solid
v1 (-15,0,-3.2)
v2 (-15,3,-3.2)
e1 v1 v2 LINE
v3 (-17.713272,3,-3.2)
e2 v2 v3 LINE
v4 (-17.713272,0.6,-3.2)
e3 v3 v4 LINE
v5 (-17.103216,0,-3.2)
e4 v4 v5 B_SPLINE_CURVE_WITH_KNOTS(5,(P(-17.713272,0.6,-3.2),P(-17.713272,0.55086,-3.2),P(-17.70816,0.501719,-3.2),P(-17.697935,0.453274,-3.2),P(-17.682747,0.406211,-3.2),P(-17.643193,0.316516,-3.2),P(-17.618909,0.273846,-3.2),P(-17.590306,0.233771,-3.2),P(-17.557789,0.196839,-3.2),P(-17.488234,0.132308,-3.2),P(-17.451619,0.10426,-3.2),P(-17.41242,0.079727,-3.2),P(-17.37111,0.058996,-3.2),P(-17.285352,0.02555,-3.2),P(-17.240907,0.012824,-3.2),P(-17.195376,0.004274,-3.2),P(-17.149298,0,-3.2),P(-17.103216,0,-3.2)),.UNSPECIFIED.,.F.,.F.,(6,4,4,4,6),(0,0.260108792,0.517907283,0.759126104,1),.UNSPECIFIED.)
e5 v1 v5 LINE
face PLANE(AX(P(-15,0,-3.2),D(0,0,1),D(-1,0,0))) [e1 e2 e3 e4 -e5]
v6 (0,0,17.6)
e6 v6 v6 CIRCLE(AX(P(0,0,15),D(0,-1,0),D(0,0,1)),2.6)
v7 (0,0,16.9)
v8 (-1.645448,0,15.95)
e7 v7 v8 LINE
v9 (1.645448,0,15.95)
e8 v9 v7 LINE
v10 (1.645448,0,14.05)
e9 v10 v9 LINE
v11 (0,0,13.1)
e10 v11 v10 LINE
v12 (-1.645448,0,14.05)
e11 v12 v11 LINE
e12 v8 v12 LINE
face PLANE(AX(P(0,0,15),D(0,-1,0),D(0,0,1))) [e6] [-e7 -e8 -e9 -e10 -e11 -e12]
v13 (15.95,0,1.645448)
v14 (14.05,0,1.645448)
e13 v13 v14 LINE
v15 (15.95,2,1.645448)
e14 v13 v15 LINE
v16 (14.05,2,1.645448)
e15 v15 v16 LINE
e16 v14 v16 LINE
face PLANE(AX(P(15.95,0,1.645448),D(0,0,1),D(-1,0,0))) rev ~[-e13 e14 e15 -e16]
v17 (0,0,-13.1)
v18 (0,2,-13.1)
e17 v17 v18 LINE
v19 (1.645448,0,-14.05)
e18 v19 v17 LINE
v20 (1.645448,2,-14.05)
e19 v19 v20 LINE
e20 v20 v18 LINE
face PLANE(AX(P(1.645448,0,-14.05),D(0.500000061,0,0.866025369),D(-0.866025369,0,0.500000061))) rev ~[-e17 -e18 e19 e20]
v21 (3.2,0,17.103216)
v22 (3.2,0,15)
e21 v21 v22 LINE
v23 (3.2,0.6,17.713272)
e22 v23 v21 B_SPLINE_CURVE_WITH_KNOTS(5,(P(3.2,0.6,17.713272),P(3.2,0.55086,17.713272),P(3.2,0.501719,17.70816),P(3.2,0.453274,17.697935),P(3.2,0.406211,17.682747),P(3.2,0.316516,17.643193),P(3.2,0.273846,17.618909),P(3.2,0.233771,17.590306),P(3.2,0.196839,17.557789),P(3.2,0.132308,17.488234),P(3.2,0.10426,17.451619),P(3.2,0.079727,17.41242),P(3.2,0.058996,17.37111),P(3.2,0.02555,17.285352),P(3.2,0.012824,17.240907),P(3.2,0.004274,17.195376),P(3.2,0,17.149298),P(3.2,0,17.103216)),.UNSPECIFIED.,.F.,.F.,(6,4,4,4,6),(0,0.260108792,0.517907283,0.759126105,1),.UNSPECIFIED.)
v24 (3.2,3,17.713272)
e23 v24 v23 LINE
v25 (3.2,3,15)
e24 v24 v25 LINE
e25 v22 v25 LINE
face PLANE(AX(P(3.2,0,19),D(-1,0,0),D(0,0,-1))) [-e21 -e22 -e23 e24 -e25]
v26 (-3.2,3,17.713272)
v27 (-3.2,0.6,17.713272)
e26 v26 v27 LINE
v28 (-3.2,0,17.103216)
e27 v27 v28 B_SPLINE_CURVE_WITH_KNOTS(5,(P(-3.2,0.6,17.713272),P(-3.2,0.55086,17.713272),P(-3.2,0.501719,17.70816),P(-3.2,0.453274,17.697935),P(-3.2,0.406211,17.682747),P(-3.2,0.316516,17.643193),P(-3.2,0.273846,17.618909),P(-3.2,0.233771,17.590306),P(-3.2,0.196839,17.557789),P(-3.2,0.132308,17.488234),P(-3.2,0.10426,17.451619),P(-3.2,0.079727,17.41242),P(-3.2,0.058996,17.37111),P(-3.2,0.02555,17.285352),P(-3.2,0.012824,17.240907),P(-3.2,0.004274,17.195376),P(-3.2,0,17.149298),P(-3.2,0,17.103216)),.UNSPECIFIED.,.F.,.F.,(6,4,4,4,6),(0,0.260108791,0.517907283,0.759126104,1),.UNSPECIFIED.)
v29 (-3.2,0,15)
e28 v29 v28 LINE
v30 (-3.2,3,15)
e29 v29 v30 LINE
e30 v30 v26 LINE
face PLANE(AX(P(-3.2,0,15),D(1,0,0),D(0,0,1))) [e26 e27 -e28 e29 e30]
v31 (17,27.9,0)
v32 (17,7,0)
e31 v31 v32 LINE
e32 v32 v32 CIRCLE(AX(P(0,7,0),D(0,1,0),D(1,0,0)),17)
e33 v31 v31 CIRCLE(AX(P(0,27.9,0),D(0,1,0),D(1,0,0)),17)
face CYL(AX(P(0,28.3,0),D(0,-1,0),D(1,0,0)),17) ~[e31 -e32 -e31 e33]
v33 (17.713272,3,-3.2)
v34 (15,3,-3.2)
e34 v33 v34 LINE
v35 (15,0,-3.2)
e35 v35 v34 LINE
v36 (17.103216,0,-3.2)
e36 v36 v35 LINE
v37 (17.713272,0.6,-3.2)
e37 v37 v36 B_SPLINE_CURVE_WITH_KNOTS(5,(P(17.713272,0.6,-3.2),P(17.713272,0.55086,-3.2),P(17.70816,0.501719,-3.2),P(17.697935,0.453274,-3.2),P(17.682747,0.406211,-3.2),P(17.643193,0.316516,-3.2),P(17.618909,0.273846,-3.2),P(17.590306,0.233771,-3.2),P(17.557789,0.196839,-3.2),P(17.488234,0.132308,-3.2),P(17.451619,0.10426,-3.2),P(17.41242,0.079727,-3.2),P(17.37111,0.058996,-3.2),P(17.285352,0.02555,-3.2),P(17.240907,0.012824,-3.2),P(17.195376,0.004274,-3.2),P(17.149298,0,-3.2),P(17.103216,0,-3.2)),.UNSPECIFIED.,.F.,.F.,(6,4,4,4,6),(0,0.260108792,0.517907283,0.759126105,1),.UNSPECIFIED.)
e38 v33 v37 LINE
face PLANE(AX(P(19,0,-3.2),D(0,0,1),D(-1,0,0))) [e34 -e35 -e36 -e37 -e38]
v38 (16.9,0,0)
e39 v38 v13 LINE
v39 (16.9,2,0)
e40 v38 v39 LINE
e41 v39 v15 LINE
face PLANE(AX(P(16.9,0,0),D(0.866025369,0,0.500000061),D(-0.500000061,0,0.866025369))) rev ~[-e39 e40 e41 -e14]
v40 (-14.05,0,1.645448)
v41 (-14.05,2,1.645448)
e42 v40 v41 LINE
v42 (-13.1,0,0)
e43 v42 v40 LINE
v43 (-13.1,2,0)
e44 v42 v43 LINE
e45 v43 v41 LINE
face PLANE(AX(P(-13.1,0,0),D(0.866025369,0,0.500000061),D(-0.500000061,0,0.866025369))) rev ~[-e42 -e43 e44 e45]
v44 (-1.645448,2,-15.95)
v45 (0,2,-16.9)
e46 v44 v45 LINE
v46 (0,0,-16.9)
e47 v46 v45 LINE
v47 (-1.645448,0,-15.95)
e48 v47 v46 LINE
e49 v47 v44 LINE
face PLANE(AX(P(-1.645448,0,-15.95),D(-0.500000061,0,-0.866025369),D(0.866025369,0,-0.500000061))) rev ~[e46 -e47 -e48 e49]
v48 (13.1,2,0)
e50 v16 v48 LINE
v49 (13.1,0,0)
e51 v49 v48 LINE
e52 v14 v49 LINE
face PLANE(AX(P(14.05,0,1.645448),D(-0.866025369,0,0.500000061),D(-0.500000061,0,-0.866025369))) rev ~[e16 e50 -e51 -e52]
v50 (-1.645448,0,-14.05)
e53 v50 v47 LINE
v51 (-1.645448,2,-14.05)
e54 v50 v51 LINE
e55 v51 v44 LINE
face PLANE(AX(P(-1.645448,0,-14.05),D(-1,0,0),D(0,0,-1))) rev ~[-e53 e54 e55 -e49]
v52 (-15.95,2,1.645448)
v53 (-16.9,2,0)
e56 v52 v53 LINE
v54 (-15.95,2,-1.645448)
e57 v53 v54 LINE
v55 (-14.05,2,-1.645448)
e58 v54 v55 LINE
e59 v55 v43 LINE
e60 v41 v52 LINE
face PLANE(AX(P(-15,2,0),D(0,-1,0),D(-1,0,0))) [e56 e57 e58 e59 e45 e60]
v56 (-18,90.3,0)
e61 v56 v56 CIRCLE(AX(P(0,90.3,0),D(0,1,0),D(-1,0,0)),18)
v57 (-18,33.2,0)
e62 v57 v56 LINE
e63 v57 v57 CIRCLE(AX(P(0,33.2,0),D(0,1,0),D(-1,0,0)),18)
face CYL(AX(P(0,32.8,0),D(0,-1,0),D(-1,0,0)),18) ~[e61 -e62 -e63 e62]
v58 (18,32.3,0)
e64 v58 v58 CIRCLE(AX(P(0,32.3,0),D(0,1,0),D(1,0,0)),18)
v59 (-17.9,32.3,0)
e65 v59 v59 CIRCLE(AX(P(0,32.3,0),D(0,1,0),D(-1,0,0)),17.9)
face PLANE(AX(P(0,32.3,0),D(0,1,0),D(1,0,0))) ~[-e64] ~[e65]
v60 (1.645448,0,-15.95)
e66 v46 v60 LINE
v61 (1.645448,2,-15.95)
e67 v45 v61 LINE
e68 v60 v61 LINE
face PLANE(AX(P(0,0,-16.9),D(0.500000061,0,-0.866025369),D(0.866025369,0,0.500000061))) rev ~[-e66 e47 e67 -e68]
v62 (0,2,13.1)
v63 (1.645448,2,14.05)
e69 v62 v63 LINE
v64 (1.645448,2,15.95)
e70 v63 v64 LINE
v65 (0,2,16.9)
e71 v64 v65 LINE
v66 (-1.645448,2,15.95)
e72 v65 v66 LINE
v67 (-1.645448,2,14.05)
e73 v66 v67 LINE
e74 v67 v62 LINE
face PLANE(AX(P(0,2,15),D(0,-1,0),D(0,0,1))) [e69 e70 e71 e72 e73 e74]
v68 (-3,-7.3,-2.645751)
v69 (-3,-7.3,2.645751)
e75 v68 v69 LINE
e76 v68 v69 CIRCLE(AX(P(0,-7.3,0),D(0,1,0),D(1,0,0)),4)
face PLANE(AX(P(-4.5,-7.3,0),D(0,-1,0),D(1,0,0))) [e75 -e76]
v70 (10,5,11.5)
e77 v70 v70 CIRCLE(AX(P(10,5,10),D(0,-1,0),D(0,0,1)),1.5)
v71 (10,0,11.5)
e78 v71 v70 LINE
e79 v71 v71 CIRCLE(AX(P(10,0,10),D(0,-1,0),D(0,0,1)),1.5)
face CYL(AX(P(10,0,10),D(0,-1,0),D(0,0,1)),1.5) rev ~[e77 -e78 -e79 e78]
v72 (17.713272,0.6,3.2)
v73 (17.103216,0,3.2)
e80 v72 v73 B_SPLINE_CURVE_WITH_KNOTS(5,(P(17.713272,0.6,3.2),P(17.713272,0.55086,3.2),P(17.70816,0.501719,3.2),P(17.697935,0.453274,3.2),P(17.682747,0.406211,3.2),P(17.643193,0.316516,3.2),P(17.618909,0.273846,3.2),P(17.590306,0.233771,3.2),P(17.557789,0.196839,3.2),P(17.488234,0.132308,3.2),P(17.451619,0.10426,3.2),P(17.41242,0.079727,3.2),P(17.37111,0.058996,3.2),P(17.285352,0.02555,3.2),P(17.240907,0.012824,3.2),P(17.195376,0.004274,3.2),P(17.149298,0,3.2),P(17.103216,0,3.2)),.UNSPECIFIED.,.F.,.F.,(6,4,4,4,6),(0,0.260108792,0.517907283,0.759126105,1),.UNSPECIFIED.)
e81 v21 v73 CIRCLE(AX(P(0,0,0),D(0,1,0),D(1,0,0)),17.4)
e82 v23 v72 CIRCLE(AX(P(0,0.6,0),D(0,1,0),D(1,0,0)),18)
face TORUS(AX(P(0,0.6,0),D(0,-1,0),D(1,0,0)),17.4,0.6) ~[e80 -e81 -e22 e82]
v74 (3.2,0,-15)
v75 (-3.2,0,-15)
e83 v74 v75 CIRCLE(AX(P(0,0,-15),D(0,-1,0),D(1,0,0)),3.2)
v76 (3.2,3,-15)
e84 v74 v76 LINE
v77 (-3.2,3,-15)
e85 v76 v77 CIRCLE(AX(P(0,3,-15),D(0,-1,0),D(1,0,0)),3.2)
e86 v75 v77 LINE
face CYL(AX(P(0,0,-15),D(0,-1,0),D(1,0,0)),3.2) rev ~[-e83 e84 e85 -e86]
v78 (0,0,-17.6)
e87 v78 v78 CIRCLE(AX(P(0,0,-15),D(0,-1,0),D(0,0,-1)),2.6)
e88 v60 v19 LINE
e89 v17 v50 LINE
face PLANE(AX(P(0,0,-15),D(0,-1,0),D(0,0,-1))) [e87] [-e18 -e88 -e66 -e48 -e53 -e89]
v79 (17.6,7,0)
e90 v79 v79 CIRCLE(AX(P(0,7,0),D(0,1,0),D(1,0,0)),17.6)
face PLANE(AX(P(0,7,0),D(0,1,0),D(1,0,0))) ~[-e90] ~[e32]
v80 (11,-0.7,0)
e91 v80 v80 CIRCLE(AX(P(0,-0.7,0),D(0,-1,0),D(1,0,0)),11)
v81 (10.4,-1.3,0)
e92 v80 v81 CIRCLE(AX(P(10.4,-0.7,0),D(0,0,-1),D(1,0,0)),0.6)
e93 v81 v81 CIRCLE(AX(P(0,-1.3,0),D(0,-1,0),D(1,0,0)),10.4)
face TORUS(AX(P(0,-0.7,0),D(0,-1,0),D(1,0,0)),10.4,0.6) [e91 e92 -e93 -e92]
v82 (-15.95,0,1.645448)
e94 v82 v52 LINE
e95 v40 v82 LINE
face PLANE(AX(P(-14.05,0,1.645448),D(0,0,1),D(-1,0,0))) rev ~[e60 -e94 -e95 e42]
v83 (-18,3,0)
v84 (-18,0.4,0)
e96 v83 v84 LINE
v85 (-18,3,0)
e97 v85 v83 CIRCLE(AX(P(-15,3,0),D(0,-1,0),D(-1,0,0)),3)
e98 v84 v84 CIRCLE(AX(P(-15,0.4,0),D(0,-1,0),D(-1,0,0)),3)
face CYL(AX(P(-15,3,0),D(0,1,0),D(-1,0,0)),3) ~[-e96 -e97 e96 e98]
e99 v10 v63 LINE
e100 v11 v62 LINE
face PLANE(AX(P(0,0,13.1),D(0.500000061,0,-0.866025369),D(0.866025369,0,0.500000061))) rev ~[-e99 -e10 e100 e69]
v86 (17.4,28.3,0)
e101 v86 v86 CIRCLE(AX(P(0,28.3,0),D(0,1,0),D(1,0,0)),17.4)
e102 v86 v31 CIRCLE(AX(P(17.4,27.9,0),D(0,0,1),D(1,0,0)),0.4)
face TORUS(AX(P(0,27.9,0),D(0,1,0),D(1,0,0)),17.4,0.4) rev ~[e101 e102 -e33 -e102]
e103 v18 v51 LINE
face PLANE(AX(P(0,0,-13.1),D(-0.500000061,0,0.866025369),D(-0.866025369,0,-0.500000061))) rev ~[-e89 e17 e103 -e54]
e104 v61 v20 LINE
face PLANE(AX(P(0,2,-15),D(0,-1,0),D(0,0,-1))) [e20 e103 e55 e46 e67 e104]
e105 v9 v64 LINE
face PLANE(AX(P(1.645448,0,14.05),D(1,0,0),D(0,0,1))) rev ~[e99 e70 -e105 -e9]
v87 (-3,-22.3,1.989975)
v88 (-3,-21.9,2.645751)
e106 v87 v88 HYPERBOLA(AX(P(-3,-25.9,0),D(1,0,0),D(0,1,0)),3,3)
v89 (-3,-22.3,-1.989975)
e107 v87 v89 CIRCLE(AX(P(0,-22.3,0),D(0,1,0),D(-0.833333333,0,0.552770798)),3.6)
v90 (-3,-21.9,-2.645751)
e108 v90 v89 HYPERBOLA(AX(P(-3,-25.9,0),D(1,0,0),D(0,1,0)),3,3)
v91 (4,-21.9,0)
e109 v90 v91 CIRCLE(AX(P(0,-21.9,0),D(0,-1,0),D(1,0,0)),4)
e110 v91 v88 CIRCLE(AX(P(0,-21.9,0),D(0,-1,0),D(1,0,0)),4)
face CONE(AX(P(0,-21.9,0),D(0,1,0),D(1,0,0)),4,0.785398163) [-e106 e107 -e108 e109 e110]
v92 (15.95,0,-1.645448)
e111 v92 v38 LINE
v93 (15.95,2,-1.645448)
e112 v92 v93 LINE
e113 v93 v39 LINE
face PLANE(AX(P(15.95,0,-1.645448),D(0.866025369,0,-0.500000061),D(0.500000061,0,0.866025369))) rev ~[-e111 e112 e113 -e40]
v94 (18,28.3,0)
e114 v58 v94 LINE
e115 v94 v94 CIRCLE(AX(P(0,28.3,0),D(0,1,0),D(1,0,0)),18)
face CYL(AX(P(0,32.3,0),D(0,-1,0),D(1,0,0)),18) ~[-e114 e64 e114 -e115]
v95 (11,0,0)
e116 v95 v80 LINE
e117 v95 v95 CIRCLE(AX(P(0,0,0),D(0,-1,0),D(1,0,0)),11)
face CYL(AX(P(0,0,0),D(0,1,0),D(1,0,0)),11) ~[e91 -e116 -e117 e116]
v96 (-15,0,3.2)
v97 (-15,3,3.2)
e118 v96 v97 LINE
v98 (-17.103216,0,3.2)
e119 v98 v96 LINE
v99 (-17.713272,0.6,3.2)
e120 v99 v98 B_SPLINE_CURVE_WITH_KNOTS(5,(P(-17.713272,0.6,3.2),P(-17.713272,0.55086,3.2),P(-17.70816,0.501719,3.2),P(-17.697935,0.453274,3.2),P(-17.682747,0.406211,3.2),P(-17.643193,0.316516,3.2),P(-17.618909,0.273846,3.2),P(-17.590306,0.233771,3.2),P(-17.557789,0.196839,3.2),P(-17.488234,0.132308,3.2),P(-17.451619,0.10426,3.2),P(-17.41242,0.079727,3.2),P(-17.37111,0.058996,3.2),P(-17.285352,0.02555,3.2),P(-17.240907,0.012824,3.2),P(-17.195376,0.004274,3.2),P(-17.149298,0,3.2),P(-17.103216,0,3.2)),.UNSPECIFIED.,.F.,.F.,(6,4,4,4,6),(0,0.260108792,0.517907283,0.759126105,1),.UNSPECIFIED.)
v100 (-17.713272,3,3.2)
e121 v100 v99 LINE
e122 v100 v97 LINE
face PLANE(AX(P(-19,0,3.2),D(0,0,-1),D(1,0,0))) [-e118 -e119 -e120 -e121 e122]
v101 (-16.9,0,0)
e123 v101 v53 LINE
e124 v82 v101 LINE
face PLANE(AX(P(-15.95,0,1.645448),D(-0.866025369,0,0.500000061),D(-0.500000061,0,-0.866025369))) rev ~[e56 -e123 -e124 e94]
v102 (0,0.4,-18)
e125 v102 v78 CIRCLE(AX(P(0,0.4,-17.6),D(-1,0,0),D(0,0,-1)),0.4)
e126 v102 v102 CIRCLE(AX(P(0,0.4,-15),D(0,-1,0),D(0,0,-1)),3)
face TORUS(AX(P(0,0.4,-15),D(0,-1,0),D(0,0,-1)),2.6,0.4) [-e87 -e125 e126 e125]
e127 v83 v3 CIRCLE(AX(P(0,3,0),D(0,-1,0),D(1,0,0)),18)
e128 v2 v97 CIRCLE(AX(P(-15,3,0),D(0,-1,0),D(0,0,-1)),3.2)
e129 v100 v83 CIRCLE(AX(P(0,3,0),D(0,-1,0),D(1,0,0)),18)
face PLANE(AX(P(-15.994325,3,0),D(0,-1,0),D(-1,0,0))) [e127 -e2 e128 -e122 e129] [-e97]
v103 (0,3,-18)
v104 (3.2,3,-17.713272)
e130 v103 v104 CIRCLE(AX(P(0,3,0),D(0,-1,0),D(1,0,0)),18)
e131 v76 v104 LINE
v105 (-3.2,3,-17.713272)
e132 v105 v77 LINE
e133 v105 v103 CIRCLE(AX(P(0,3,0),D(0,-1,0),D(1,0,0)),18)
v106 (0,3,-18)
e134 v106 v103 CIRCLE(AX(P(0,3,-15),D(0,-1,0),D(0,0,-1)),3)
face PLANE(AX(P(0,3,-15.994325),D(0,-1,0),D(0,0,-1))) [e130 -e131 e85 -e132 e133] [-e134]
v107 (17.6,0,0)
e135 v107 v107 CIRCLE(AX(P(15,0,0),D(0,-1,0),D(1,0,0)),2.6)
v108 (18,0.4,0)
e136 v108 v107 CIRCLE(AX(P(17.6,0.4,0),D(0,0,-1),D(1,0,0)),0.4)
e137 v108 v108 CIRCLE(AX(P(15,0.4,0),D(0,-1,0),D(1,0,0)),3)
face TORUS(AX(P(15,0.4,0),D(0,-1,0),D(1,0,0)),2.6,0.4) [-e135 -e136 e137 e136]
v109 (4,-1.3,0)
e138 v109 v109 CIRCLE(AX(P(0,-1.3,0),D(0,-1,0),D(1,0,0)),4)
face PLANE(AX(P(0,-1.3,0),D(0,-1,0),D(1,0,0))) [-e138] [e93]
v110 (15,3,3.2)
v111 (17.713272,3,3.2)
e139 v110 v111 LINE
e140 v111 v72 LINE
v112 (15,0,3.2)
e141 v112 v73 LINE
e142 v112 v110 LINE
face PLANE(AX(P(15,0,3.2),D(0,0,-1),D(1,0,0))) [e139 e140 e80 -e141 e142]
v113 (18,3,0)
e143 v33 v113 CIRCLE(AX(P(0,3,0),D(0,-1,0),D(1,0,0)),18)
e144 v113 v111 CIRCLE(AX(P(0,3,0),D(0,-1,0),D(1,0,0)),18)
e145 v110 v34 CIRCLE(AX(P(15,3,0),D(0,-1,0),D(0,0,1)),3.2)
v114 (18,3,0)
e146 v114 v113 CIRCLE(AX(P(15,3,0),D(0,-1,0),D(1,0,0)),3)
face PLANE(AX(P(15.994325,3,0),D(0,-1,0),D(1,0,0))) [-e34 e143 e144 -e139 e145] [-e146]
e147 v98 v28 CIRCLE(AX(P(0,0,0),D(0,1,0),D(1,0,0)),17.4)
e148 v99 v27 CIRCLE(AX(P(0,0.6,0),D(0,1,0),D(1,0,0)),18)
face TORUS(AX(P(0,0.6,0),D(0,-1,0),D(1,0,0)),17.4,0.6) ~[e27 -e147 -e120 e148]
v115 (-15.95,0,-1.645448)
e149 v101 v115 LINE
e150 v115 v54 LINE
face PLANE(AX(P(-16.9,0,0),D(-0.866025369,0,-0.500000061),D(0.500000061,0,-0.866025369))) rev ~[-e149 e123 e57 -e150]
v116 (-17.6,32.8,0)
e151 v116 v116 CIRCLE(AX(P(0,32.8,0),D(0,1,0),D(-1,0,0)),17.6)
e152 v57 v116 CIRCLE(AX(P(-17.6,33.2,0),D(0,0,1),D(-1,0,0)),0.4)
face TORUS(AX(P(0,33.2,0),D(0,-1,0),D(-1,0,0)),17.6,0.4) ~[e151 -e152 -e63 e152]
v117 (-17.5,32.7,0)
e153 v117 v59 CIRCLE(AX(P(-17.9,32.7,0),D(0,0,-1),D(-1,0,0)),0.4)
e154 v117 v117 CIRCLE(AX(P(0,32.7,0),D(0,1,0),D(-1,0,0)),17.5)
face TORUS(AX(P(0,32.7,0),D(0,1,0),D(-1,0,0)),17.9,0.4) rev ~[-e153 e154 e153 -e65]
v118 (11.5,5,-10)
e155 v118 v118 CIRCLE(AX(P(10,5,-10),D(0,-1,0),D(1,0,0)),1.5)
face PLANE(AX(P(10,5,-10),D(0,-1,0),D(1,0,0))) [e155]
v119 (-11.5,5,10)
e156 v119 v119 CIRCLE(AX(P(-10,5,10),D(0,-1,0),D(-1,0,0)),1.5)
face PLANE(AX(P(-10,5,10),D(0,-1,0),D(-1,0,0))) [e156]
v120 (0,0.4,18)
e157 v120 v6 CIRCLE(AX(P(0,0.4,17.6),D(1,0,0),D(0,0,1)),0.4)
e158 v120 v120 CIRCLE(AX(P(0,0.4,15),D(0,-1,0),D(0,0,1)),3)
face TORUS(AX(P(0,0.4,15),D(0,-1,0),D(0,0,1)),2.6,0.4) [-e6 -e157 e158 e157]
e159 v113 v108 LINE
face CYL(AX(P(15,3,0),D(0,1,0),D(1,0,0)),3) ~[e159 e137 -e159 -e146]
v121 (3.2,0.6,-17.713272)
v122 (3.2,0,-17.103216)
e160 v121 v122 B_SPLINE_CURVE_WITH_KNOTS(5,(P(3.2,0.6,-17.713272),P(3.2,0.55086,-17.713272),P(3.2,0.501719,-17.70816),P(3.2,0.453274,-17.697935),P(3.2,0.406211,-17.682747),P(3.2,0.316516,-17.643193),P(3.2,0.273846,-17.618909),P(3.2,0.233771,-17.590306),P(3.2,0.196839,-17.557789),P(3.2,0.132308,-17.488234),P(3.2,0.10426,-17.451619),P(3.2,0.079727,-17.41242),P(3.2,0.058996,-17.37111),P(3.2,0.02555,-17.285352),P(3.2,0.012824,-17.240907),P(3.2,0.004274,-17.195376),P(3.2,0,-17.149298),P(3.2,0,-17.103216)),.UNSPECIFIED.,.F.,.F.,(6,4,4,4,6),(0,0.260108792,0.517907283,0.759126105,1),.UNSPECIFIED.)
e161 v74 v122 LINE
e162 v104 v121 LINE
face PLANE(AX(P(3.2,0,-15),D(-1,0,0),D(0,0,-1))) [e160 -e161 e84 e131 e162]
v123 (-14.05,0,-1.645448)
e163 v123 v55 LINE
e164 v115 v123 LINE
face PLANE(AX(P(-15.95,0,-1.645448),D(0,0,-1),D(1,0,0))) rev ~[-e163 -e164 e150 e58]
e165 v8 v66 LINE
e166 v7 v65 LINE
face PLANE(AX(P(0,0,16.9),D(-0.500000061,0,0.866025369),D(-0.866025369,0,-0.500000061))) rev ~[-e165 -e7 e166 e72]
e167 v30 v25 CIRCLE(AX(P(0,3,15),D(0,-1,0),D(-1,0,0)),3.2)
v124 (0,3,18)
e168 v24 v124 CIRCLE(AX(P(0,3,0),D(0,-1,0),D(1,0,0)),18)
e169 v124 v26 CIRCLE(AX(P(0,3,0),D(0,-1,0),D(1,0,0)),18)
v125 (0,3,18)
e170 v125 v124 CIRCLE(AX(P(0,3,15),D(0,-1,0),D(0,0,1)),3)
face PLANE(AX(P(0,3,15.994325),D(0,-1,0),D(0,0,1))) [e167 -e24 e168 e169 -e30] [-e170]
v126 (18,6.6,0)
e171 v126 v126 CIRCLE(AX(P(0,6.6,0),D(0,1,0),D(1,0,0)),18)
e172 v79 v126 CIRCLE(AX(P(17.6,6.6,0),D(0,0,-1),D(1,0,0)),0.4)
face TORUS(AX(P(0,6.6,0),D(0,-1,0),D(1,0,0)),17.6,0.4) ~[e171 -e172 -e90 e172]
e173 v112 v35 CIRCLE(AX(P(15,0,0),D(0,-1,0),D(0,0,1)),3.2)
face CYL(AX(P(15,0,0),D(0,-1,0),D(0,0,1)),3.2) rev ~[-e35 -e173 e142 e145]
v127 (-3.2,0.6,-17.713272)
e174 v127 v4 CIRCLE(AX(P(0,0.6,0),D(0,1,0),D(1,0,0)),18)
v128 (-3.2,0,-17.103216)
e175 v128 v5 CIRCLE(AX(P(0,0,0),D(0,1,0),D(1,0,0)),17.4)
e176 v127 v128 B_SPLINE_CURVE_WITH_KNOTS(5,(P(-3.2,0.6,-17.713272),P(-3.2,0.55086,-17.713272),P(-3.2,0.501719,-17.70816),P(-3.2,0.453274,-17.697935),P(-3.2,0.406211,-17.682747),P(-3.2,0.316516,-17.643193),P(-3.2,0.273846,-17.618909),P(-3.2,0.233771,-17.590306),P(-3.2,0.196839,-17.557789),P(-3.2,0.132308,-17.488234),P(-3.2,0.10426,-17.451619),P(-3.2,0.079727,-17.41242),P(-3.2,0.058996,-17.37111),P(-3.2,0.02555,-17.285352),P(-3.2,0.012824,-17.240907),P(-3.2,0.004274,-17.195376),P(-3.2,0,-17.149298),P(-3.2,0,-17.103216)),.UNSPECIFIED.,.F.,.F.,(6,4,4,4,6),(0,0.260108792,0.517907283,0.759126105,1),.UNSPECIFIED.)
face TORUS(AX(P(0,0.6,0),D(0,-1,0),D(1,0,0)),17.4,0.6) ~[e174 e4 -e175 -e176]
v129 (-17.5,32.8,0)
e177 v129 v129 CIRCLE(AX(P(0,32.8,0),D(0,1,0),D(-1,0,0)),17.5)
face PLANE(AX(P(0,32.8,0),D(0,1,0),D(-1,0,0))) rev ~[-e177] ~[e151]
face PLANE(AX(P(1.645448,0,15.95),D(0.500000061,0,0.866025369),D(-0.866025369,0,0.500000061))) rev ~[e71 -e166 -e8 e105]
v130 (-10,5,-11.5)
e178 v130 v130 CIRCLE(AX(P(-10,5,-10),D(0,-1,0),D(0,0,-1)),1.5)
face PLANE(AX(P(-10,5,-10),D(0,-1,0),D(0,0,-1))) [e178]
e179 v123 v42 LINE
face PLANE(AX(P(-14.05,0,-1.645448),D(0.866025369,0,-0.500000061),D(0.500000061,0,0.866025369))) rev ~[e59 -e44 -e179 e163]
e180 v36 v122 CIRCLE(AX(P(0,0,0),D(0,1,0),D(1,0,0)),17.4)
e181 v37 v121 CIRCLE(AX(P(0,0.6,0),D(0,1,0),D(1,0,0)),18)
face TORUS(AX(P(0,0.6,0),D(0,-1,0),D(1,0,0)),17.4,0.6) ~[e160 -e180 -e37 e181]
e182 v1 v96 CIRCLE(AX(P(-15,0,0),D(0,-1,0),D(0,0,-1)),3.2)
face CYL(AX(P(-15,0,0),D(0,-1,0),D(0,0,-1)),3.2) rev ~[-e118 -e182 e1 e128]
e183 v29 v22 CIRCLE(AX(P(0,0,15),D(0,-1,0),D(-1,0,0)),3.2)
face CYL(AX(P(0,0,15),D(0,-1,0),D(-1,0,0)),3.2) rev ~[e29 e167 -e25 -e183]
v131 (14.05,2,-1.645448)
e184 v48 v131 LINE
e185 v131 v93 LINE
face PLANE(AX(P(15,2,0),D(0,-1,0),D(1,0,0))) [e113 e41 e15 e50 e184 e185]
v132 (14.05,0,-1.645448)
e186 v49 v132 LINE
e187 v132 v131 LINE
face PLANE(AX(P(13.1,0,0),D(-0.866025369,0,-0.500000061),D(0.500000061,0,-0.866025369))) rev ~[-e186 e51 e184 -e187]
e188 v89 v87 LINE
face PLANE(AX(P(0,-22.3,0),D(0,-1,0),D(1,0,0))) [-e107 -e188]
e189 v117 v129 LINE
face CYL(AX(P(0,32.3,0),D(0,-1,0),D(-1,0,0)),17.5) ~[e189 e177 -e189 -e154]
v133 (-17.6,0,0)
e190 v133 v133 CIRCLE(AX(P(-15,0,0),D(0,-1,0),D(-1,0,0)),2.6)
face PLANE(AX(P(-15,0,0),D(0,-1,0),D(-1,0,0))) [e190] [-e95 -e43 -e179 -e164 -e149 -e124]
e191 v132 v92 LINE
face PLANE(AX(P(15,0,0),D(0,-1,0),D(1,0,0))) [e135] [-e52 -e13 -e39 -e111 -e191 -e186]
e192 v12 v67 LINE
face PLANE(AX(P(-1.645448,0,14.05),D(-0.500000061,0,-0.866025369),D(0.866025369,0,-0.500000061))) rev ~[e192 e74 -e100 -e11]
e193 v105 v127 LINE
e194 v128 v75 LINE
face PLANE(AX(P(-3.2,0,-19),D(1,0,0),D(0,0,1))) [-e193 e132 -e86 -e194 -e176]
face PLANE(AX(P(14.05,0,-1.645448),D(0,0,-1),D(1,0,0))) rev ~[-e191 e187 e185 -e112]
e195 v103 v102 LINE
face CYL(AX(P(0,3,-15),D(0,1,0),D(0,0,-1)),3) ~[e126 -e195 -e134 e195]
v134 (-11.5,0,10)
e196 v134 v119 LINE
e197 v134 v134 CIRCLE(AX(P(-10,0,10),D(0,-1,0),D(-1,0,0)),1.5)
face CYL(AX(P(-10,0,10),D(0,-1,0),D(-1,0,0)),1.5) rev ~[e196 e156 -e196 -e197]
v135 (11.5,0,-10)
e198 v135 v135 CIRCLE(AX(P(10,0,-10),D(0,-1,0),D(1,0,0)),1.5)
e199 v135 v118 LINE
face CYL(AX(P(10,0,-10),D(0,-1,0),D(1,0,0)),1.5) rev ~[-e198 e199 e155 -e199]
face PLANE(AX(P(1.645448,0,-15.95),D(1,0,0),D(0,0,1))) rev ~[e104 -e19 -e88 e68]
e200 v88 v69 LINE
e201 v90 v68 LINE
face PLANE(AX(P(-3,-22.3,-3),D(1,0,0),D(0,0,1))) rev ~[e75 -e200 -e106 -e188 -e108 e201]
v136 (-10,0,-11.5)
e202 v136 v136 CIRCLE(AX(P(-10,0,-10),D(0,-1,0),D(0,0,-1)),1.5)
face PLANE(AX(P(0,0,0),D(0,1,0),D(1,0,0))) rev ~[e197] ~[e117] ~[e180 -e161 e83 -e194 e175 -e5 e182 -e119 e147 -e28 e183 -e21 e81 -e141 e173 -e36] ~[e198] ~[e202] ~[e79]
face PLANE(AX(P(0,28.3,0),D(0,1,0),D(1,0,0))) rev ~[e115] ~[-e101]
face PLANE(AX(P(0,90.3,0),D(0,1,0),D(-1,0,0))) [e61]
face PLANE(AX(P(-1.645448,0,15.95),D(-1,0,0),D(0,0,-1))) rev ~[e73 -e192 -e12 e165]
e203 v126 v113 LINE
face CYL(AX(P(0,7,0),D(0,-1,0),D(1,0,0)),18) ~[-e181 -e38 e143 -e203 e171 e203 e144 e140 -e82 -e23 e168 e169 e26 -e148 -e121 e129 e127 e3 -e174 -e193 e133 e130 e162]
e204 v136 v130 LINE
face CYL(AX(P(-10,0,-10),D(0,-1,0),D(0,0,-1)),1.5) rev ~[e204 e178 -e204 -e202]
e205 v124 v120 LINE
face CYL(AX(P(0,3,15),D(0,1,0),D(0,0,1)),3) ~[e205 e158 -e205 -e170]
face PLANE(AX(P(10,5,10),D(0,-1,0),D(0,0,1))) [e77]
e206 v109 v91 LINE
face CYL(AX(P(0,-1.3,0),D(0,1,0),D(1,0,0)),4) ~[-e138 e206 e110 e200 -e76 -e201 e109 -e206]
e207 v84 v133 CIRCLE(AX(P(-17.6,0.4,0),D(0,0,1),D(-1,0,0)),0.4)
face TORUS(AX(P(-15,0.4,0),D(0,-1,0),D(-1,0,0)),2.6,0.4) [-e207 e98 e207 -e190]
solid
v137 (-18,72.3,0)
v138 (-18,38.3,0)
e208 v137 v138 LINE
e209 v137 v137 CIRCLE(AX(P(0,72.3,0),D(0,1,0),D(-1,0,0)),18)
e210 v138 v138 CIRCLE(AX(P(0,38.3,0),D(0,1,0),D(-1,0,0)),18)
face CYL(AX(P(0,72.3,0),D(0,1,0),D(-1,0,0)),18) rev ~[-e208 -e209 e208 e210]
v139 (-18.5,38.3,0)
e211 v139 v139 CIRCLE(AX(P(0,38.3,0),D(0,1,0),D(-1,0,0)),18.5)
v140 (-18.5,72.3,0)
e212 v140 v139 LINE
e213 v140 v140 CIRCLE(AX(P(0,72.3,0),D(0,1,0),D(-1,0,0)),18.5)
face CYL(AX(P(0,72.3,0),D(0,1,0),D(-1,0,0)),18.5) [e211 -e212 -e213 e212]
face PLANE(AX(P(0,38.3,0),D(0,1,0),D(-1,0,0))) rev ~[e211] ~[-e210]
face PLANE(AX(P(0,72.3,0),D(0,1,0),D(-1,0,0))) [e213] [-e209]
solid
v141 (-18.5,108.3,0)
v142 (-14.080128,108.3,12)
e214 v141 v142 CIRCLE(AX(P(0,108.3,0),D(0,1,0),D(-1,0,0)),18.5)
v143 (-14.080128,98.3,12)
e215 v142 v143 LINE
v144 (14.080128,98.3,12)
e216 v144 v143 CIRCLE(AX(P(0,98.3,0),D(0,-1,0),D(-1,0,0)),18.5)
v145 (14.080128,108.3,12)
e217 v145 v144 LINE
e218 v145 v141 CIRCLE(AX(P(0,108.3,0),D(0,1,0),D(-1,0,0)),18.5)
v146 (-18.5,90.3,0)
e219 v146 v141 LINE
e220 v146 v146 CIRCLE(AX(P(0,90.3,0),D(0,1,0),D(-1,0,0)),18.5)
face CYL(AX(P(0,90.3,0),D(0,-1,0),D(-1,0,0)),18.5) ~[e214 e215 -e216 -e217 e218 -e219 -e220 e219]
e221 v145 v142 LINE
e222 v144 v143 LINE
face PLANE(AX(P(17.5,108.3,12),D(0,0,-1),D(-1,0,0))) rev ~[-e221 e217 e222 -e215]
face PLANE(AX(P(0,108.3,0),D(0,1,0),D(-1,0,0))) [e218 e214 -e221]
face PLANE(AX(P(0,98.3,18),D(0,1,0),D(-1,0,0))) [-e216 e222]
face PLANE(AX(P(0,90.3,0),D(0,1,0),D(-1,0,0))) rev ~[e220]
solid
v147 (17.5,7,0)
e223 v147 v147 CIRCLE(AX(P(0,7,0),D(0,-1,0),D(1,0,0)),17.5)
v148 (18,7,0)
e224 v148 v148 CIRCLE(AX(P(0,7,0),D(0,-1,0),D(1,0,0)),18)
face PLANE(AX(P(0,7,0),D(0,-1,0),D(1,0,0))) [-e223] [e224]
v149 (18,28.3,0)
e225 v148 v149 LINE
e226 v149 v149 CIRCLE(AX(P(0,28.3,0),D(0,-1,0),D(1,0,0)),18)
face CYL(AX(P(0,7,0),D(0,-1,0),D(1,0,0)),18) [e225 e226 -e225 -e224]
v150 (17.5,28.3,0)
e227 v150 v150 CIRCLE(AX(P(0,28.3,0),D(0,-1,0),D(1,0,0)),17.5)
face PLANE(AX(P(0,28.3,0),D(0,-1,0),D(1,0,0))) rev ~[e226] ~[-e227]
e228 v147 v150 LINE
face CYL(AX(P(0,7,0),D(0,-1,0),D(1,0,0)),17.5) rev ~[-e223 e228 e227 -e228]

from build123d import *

# Parameters (mm, degrees)
SKETCH001_R           = 17.5
PAD_DEPTH             = 0.5
SKETCH002_R           = 18
PAD001_DEPTH          = 57.5
SKETCH003_R           = 11
PAD002_DEPTH          = 1.3
SKETCH004_R           = 4
PAD003_DEPTH          = 21
FILLET_R              = 0.4
FILLET001_R           = 0.6
CHAMFER_SIZE          = 0.4
SKETCH005_R           = 1.5
POCKET_DEPTH          = 5
POLARPATTERN_COUNT    = 4
POCKET001_DEPTH       = 3
POLARPATTERN001_COUNT = 4
SKETCH007_R           = 3
PAD004_DEPTH          = 3
POLARPATTERN002_COUNT = 4
FILLET002_R           = 0.4
POCKET002_DEPTH       = 2
POLARPATTERN003_COUNT = 4
SKETCH009_W           = 3
SKETCH009_H           = 6
POCKET003_DEPTH       = 15
SKETCH010_R           = 18
SKETCH010_R_2         = 17.5
PAD005_DEPTH          = 21.3
SKETCH011_R           = 18.5
SKETCH011_R_2         = 18
PAD006_DEPTH          = 34
SKETCH012_R           = 18.5
PAD007_DEPTH          = 18
SKETCH013_W           = 35
SKETCH013_H           = 12
POCKET004_DEPTH       = 10


with BuildPart() as body:
    # Sketch → Revolution (revolve)
    with BuildSketch(Plane.XY):
        Polygon((0, 0), (0, 32.3), (18, 32.3), (18, 28.3), (17, 28.3), (17, 7), (18, 7), (18, 0), align=None)
    revolve(axis=Axis((0, 0, 0), (0, 1, 0)))

    # Sketch001 (on Face1 of Revolution) → Pad (new body)
    with BuildSketch(Plane(origin=(0, 32.3, 0), x_dir=(-1, 0, 0), z_dir=(0, 1, 0))):
        Circle(SKETCH001_R)
    extrude(amount=PAD_DEPTH)

    # Sketch002 (on Face5 of Pad) → Pad001 (join)
    with BuildSketch(Plane(origin=(0, 32.8, 0), x_dir=(-1, 0, 0), z_dir=(0, 1, 0))):
        Circle(SKETCH002_R)
    extrude(amount=PAD001_DEPTH)

    # Sketch003 (on Face11 of Pad001) → Pad002 (join)
    with BuildSketch(Plane.XZ):
        Circle(SKETCH003_R)
    extrude(amount=PAD002_DEPTH)

    # Sketch004 (on Face13 of Pad002) → Pad003 (join)
    with BuildSketch(Plane.XZ.offset(1.3)):
        Circle(SKETCH004_R)
    extrude(amount=PAD003_DEPTH)

    # Fillet
    fillet_edges = [body.edges().sort_by_distance(p)[0] for p in [
        (18, 32.8, 0),
        (-18, 7, 0),
        (17.5, 32.3, 0),
        (-17, 28.3, 0),
    ]]
    fillet(fillet_edges, radius=FILLET_R)

    # Fillet001
    fillet001_edges = [body.edges().sort_by_distance(p)[0] for p in [
        (-18, 0, 0),
        (-11, -1.3, 0),
    ]]
    fillet(fillet001_edges, radius=FILLET001_R)

    # Chamfer
    chamfer_edges = [body.edges().sort_by_distance(p)[0] for p in [
        (-4, -22.3, 0),
    ]]
    chamfer(chamfer_edges, length=CHAMFER_SIZE)

    # Sketch005 (on Face7 of Chamfer) → Pocket (cut)
    with BuildSketch(Plane.XZ):
        with Locations((10, -10)):
            Circle(SKETCH005_R)
    pocket = extrude(amount=-POCKET_DEPTH, mode=Mode.SUBTRACT)

    # PolarPattern: Pocket ×4 about axis
    polarpattern_axis = Axis((0, 0, 0), (0, -1, 0))
    for i in range(1, POLARPATTERN_COUNT):
        add(pocket.rotate(polarpattern_axis, i * 360 / POLARPATTERN_COUNT), mode=Mode.SUBTRACT)

    # Sketch006 (on Face7 of PolarPattern) → Pocket001 (cut)
    with BuildSketch(Plane.XZ):
        with BuildLine():
            ThreePointArc((15, 3.2), (11.8, 0), (15, -3.2))
            Line((19, -3.2), (15, -3.2))
            Line((19, 3.2), (19, -3.2))
            Line((15, 3.2), (19, 3.2))
        make_face()
    pocket001 = extrude(amount=-POCKET001_DEPTH, mode=Mode.SUBTRACT)

    # PolarPattern001: Pocket001 ×4 about axis
    polarpattern001_axis = Axis((0, 0, 0), (0, -1, 0))
    for i in range(1, POLARPATTERN001_COUNT):
        add(pocket001.rotate(polarpattern001_axis, i * 360 / POLARPATTERN001_COUNT), mode=Mode.SUBTRACT)

    # Sketch007 (on Face28 of PolarPattern001) → Pad004 (join)
    with BuildSketch(Plane.XZ.offset(-3)):
        with Locations((15, 0)):
            Circle(SKETCH007_R)
    pad004 = extrude(amount=PAD004_DEPTH)

    # PolarPattern002: Pad004 ×4 about axis
    polarpattern002_axis = Axis((0, 3, 0), (0, -1, 0))
    for i in range(1, POLARPATTERN002_COUNT):
        add(pad004.rotate(polarpattern002_axis, i * 360 / POLARPATTERN002_COUNT))

    # Fillet002
    fillet002_edges = [body.edges().sort_by_distance(p)[0] for p in [
        (12, 0, 0),
        (0, 0, 12),
        (-12, 0, 0),
        (0, 0, -12),
    ]]
    fillet(fillet002_edges, radius=FILLET002_R)

    # Sketch008 (on Face4 of Fillet002) → Pocket002 (cut)
    with BuildSketch(Plane.XZ):
        Polygon((15.95, 1.645448), (14.05, 1.645448), (13.1, 0), (14.05, -1.645448), (15.95, -1.645448), (16.9, 0), align=None)
    pocket002 = extrude(amount=-POCKET002_DEPTH, mode=Mode.SUBTRACT)

    # PolarPattern003: Pocket002 ×4 about axis
    polarpattern003_axis = Axis((0, 0, 0), (0, -1, 0))
    for i in range(1, POLARPATTERN003_COUNT):
        add(pocket002.rotate(polarpattern003_axis, i * 360 / POLARPATTERN003_COUNT), mode=Mode.SUBTRACT)

    # Sketch009 (on Face82 of PolarPattern003) → Pocket003 (cut)
    with BuildSketch(Plane.XZ.offset(22.3)):
        with Locations((-4.5, 0)):
            Rectangle(SKETCH009_W, SKETCH009_H)
    extrude(amount=-POCKET003_DEPTH, mode=Mode.SUBTRACT)


with BuildPart() as body001:
    # Sketch010 → Pad005 (new body)
    with BuildSketch(Plane.XZ.offset(-7)):
        Circle(SKETCH010_R)
        Circle(SKETCH010_R_2, mode=Mode.SUBTRACT)
    extrude(amount=-PAD005_DEPTH)


with BuildPart() as body002:
    # Sketch011 → Pad006 (new body)
    with BuildSketch(Plane(origin=(0, 90.3, 0), x_dir=(-1, 0, 0), z_dir=(0, 1, 0))):
        Circle(SKETCH011_R)
        Circle(SKETCH011_R_2, mode=Mode.SUBTRACT)
    extrude(amount=-PAD006_DEPTH)


with BuildPart() as body002_1:
    # Body002 placement: moved
    add(body002.part.moved(Location((0, -18, 0))))


with BuildPart() as body003:
    # Sketch012 (on Face1 of CopyPocket003) → Pad007 (new body)
    with BuildSketch(Plane(origin=(0, 90.3, 0), x_dir=(-1, 0, 0), z_dir=(0, 1, 0))):
        Circle(SKETCH012_R)
    extrude(amount=PAD007_DEPTH)

    # Sketch013 (on Face3 of Pad007) → Pocket004 (cut)
    with BuildSketch(Plane(origin=(0, 108.3, 0), x_dir=(-1, 0, 0), z_dir=(0, 1, 0))):
        with Locations((0, 18)):
            Rectangle(SKETCH013_W, SKETCH013_H)
    extrude(amount=-POCKET004_DEPTH, mode=Mode.SUBTRACT)


solid = Compound([body.part, body001.part, body002_1.part, body003.part])
